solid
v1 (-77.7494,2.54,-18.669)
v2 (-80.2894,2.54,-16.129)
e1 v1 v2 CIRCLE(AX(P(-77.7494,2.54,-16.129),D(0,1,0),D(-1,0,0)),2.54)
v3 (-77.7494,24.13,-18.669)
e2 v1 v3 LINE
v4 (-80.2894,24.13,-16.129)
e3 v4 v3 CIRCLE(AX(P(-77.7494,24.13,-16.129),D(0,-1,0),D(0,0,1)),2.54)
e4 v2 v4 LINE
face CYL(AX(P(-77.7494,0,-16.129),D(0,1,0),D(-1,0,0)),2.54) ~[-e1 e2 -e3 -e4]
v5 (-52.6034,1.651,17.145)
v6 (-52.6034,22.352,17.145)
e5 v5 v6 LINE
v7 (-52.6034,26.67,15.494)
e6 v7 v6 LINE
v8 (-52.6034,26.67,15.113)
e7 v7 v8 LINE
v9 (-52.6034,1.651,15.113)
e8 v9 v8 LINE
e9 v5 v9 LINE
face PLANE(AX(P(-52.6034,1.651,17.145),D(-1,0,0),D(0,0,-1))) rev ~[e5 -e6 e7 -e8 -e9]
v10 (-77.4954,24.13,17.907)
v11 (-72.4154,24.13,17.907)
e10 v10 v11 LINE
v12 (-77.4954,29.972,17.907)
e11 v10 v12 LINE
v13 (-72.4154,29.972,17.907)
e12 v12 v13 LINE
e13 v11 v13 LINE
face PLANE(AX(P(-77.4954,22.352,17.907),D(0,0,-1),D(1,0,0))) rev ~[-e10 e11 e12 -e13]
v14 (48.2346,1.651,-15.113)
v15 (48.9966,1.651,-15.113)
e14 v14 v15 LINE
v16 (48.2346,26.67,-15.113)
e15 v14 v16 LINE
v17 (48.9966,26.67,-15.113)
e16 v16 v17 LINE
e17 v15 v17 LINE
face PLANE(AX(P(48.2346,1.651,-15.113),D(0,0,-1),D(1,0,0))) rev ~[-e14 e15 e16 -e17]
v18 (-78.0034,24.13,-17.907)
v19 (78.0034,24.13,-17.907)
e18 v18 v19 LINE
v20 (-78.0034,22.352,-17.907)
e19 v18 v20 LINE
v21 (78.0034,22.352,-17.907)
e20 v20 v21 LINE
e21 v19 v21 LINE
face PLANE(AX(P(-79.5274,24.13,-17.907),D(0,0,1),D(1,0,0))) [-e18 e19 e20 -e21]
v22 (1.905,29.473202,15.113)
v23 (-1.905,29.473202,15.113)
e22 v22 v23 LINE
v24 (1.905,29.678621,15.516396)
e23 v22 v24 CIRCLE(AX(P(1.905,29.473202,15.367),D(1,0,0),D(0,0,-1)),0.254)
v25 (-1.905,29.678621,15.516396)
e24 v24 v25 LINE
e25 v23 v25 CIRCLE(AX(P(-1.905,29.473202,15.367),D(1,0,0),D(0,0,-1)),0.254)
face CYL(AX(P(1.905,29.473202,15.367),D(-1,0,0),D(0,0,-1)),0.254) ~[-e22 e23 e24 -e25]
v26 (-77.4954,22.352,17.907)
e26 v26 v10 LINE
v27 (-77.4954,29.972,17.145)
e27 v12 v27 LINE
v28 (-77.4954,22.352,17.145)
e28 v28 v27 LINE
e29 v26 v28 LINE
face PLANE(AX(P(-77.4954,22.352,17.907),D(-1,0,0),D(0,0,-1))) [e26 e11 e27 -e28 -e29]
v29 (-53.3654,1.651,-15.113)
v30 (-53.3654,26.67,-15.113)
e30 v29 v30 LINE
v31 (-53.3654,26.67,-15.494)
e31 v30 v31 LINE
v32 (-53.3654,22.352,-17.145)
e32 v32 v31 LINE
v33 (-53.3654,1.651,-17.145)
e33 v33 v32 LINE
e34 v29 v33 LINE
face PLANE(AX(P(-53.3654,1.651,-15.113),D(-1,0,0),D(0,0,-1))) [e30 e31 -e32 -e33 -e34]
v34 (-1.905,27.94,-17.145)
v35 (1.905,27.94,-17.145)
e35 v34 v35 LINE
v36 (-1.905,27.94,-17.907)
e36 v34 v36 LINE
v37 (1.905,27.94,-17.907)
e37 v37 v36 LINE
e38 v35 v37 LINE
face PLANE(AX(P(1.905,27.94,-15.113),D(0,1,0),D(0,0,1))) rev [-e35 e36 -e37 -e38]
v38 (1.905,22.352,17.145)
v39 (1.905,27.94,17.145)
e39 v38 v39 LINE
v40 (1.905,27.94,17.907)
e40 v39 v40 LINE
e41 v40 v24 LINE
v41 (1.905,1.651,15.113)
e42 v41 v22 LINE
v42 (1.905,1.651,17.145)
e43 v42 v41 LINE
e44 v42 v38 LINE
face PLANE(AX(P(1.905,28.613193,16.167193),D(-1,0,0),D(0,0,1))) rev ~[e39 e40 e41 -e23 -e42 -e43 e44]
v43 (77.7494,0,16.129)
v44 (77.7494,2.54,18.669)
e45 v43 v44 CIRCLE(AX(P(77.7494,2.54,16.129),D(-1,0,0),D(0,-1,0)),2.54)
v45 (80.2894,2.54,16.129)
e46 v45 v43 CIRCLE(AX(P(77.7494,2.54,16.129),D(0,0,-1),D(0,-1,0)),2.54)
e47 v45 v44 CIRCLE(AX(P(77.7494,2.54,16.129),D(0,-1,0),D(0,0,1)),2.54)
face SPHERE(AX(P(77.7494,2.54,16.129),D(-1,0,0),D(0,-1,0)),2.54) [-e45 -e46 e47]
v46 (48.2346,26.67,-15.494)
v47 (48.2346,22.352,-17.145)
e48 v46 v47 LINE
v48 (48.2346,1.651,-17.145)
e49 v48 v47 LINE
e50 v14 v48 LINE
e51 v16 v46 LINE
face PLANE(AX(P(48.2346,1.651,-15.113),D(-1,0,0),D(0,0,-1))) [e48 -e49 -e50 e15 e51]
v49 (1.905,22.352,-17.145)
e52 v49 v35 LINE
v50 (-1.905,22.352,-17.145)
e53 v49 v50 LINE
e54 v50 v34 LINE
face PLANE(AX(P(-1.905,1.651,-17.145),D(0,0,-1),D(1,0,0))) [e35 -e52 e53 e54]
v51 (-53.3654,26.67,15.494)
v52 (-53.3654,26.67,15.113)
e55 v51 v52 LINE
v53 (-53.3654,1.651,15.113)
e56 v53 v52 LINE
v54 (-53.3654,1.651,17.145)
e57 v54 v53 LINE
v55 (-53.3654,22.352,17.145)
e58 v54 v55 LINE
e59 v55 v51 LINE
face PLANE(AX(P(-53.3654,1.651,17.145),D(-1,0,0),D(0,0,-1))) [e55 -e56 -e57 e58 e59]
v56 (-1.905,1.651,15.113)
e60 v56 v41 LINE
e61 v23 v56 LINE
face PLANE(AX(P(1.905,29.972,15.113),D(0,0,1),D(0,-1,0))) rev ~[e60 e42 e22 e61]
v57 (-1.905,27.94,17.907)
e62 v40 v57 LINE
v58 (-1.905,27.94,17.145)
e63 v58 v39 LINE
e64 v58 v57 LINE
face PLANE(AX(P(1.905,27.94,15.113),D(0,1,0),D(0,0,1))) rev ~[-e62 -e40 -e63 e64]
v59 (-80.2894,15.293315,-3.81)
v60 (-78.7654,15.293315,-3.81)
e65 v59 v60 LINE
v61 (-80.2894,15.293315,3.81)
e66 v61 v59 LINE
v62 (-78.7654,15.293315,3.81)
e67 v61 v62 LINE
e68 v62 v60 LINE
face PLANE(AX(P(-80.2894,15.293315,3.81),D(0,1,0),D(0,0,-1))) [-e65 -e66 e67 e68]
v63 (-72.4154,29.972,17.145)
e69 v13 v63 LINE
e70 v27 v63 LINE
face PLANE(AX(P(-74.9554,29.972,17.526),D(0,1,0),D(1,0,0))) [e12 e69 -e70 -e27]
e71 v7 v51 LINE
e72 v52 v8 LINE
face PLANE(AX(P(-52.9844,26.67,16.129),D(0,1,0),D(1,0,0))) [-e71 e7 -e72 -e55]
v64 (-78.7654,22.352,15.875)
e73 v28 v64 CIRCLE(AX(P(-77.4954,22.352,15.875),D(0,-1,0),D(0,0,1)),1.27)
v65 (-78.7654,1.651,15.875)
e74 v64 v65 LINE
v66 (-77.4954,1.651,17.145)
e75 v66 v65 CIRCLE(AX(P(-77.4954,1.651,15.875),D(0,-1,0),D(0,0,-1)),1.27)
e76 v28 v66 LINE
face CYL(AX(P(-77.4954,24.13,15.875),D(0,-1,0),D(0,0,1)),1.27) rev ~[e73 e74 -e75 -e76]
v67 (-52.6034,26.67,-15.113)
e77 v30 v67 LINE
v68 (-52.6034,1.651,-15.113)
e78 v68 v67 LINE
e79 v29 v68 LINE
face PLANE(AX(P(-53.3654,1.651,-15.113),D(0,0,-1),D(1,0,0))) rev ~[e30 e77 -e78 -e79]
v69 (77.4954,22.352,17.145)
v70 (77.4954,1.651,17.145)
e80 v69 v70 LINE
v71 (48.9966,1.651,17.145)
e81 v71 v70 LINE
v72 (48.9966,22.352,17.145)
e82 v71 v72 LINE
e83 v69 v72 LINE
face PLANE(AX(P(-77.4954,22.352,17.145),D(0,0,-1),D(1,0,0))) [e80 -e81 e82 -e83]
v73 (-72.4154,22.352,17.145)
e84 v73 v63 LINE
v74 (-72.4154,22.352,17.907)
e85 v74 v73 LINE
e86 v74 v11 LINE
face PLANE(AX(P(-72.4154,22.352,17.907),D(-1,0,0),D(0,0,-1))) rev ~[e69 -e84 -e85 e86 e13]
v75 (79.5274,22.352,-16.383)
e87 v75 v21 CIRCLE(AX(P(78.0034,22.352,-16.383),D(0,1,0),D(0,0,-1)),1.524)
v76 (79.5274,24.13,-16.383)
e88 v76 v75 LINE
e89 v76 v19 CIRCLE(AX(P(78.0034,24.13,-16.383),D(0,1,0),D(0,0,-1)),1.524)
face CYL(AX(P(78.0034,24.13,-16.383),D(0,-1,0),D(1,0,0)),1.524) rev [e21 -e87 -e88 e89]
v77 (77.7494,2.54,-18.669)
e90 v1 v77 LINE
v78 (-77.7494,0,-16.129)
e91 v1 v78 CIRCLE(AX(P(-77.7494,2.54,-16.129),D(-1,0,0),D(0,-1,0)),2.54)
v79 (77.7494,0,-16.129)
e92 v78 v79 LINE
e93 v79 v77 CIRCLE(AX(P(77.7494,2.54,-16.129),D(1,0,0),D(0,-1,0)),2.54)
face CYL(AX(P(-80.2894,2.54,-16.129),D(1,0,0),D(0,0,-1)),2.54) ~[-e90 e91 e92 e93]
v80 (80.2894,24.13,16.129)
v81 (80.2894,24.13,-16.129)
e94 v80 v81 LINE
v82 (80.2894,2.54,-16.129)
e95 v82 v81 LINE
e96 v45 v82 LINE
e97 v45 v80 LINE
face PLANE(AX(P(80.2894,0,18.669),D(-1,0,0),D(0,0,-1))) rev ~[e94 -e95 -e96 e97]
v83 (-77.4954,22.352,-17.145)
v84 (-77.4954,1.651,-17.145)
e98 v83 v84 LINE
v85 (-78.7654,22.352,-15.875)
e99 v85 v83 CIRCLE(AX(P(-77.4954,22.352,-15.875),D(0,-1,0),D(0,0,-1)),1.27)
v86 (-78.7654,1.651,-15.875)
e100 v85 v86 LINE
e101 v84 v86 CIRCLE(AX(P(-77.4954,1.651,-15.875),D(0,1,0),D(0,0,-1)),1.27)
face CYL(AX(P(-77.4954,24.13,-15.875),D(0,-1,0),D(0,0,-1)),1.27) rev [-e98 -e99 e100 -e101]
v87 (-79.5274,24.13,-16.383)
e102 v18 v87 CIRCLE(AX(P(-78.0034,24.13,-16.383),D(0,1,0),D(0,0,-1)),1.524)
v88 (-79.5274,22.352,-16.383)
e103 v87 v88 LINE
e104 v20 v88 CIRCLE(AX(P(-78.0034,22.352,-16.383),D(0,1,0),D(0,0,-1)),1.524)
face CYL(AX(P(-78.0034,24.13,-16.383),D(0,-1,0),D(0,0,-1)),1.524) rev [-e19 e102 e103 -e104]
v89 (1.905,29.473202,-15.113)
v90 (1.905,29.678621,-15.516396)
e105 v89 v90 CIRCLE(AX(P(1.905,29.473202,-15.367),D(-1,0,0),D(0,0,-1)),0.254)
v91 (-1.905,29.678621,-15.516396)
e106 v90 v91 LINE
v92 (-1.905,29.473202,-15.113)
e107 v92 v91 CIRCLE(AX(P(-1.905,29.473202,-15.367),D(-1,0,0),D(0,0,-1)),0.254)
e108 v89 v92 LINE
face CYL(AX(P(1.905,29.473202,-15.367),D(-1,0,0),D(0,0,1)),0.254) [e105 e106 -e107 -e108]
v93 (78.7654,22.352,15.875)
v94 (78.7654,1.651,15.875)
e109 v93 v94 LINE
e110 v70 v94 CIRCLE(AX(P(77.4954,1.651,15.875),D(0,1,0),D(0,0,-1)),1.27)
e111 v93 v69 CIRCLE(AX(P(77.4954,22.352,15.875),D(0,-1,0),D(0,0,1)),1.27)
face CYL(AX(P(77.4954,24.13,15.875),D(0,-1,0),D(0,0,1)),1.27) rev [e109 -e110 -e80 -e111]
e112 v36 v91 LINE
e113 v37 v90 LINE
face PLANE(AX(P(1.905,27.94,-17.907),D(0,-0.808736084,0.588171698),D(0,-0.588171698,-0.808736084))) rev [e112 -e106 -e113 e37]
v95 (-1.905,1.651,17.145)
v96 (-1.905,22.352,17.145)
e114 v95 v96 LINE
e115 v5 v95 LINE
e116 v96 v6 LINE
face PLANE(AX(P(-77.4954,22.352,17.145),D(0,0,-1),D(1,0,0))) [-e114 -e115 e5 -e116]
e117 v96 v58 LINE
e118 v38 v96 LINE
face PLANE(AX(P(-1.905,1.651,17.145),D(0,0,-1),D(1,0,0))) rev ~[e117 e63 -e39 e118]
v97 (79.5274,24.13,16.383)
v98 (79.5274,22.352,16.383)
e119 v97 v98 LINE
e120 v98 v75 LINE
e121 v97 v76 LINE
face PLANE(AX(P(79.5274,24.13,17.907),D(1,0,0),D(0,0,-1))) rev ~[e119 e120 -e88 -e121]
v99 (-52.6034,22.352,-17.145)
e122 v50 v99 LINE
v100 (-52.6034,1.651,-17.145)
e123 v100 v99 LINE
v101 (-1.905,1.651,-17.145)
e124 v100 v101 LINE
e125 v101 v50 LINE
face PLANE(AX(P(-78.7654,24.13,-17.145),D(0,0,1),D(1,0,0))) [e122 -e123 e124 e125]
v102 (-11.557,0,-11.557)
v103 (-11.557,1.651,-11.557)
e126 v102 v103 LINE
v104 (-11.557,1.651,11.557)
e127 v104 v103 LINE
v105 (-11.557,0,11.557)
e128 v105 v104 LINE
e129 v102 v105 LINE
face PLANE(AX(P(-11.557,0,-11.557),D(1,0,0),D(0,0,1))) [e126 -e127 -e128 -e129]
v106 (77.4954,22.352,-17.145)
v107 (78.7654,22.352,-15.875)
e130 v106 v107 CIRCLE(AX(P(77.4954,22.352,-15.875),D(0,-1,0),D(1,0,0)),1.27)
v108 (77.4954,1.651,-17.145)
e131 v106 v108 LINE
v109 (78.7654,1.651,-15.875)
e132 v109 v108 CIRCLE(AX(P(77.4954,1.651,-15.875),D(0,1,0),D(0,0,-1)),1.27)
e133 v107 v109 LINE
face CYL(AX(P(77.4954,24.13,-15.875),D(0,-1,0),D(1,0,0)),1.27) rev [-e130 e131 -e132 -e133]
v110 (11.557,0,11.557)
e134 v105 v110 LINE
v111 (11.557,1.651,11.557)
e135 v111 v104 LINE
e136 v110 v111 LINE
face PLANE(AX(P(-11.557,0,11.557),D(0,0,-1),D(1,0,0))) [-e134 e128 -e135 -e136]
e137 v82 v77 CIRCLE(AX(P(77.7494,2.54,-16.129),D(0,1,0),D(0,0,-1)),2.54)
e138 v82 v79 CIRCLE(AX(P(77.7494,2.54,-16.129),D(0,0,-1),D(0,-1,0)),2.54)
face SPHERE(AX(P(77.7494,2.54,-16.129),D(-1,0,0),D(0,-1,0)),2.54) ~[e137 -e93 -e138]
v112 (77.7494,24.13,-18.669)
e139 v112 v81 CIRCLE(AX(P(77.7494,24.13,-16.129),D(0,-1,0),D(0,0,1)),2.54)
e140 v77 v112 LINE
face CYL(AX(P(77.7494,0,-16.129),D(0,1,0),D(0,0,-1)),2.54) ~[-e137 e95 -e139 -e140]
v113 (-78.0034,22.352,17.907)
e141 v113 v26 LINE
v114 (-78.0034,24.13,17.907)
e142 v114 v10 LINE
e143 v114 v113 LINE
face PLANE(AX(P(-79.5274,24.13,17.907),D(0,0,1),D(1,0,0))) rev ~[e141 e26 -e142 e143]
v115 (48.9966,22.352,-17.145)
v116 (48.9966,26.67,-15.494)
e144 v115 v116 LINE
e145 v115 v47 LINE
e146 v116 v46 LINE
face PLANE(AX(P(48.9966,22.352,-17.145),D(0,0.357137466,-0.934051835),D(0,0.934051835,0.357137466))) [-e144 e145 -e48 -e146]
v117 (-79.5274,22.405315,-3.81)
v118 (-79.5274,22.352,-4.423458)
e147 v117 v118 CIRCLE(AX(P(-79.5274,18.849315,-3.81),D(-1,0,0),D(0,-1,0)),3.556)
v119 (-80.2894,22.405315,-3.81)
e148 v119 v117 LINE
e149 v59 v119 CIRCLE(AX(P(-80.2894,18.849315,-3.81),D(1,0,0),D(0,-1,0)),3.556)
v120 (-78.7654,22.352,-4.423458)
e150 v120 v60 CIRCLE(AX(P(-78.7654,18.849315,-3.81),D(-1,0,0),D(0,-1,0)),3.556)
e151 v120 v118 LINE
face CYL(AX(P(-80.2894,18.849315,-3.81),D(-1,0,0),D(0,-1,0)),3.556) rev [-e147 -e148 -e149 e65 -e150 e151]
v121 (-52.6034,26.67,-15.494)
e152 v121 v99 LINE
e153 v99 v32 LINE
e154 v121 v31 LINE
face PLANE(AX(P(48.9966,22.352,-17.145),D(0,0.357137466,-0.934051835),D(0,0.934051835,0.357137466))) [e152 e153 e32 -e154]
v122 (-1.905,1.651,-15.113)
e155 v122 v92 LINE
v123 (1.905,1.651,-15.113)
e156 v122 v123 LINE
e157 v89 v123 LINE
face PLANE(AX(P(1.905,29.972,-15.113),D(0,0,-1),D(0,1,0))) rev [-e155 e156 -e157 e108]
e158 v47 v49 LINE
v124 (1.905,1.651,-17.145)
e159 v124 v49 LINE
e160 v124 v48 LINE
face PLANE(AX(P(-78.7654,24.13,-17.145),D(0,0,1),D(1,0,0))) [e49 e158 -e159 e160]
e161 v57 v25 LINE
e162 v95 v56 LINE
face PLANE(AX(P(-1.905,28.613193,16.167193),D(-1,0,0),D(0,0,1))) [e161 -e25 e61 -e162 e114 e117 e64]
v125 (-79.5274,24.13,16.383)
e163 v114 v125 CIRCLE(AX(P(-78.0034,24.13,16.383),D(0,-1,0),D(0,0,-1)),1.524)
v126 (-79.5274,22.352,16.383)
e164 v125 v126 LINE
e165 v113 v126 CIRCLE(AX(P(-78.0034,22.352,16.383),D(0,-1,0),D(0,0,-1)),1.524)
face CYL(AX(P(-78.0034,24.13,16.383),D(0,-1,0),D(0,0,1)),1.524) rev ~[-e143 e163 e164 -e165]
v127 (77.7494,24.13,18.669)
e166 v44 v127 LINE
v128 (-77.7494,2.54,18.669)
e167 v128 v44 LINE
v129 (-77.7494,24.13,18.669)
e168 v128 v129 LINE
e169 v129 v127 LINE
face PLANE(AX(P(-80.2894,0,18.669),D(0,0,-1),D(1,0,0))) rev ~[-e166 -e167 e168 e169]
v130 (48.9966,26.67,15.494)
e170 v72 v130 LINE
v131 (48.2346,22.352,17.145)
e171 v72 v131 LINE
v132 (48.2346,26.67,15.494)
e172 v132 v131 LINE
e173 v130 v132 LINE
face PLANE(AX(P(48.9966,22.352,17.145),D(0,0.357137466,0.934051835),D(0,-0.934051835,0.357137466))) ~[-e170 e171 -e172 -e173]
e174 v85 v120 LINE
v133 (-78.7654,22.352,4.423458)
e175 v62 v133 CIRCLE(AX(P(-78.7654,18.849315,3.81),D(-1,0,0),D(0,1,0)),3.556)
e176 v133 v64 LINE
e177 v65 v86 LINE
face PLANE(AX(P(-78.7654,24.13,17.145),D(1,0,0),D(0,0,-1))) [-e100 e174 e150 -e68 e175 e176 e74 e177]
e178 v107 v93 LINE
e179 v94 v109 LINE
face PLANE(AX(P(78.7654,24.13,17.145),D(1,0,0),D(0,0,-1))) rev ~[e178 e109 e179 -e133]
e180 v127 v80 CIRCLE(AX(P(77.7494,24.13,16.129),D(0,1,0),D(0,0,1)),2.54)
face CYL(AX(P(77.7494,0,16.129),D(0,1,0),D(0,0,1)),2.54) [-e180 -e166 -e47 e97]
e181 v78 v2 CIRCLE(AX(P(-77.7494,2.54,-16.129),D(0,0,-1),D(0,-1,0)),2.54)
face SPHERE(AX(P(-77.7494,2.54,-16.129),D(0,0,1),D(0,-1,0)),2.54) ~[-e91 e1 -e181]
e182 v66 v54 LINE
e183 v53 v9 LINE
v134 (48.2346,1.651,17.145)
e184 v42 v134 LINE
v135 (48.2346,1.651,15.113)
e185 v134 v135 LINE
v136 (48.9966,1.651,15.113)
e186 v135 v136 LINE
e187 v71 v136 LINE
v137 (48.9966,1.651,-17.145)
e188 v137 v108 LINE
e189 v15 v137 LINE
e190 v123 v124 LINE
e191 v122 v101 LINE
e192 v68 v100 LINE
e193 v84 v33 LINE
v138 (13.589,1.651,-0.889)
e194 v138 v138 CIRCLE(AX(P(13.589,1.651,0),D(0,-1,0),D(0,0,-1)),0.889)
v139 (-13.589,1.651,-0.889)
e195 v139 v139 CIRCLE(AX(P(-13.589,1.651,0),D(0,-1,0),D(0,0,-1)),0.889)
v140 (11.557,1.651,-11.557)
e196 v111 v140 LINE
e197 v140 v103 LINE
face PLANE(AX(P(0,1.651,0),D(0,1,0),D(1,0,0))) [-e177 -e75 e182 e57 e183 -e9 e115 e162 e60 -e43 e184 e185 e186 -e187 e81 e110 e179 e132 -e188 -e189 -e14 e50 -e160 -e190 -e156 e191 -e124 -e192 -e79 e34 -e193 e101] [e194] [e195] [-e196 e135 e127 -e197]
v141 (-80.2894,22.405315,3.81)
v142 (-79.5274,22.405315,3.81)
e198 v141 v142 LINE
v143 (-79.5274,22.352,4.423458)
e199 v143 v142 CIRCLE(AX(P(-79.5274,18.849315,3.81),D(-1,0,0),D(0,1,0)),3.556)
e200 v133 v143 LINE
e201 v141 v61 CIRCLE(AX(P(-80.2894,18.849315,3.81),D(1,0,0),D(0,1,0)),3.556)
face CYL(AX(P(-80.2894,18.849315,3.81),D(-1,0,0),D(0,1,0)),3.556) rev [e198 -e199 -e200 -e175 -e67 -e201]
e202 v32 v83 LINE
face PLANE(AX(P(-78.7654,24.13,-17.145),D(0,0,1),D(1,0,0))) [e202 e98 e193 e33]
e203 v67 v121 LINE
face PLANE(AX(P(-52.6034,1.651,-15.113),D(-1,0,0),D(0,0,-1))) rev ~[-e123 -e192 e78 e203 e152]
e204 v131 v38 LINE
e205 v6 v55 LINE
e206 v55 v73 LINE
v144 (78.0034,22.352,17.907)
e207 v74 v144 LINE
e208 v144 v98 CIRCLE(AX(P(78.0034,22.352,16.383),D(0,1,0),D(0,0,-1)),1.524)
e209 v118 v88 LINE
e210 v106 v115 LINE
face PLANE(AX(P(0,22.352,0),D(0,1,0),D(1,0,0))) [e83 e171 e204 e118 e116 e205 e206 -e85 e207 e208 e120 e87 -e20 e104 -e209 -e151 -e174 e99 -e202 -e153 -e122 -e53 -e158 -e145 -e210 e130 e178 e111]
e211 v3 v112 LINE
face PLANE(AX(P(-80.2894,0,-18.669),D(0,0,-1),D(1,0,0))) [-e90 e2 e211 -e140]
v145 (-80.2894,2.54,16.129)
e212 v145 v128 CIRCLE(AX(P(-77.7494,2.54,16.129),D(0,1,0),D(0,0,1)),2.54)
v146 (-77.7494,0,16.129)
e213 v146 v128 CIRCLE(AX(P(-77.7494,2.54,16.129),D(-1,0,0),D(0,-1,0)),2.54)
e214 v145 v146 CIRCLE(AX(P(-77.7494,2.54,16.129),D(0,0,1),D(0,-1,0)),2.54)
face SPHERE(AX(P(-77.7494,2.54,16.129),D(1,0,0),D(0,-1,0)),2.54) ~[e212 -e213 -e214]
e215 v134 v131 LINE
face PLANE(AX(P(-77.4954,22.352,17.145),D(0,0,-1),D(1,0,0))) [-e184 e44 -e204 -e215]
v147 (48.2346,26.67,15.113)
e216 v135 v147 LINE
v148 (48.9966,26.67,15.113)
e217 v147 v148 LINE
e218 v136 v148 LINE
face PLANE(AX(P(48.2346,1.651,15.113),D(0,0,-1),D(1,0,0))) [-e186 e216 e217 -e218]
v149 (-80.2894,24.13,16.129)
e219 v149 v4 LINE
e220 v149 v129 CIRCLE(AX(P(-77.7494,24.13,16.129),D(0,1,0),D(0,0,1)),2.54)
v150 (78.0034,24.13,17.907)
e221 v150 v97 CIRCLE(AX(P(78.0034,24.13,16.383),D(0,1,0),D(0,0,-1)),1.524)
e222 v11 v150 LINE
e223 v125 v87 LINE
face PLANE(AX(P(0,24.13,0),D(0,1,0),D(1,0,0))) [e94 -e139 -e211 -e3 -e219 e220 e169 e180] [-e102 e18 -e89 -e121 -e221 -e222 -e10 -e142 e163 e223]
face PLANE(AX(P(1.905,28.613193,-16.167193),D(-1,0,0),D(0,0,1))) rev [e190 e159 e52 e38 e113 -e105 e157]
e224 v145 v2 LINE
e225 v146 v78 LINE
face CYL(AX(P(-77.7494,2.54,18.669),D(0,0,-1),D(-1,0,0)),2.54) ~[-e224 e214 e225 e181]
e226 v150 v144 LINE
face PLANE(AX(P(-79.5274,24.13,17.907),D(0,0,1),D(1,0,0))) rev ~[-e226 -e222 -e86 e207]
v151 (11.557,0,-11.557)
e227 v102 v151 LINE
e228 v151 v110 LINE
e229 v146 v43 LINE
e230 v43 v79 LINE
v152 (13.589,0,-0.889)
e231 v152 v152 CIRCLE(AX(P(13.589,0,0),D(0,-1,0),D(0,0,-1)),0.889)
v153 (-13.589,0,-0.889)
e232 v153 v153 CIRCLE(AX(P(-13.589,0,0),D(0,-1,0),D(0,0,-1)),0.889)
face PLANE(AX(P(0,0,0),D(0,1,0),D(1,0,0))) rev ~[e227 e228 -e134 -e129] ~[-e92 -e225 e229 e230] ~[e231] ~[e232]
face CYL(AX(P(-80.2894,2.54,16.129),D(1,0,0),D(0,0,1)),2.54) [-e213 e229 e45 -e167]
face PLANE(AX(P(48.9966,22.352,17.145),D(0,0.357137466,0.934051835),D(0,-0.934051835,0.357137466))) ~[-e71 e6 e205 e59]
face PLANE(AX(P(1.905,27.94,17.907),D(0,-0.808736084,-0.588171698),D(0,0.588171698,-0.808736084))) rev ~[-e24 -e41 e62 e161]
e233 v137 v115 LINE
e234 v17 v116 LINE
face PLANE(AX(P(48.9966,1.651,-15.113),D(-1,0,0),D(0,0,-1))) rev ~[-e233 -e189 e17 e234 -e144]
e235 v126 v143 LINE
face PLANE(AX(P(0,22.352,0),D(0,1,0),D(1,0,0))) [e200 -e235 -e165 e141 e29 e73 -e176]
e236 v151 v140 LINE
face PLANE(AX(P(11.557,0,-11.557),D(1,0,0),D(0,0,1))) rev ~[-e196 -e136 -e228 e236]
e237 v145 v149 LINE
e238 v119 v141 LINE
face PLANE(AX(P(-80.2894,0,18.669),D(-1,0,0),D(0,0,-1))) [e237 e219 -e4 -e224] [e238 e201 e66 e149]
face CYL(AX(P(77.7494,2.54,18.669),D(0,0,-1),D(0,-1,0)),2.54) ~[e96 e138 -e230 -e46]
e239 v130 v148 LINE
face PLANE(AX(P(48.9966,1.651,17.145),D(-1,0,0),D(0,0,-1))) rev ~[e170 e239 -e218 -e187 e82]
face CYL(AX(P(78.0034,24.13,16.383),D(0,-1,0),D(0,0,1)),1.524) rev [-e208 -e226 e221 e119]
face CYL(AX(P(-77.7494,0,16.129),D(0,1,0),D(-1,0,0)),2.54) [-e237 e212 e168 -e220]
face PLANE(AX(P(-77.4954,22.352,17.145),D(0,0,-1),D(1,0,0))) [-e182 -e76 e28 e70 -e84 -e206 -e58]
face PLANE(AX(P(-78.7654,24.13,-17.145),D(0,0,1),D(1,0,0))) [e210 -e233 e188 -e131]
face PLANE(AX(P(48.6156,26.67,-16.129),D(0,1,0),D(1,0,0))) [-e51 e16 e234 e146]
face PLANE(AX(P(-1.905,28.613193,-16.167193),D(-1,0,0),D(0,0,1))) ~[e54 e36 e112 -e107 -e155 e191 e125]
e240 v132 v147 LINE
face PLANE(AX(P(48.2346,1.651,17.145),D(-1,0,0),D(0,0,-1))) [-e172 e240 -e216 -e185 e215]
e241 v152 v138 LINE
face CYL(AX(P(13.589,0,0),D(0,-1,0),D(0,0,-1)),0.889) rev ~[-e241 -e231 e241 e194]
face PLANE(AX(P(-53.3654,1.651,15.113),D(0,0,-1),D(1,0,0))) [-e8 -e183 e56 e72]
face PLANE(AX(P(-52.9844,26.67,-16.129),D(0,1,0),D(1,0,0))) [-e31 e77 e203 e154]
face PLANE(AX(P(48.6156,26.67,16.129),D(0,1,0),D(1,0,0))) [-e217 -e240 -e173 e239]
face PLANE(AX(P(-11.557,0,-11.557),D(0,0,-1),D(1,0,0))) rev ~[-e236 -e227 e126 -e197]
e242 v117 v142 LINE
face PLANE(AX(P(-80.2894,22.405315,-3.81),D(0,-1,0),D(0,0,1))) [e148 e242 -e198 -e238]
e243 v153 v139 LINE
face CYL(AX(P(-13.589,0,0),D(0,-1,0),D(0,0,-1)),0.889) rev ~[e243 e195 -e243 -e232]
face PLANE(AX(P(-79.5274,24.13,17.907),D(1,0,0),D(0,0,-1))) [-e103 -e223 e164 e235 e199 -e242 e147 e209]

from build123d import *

# Parameters (mm, degrees)
SKETCH1_W            = 160.5788
SKETCH1_H            = 37.338
BOSS_EXTRUDE1_DEPTH  = 24.13
SKETCH2_W            = 157.5308
SKETCH2_H            = 34.29
CUT_EXTRUDE3_DEPTH   = 22.479
FILLET1_R            = 2.54
FILLET2_R            = 1.27
CUT_EXTRUDE4_REACH   = 165.451
SKETCH4_W            = 159.0548
SKETCH4_H            = 35.814
CUT_EXTRUDE5_DEPTH   = 1.778
FILLET3_R            = 1.524
SKETCH5_W            = 5.08
SKETCH5_H            = 0.762
BOSS_EXTRUDE2_DEPTH  = 7.62
SKETCH6_W            = 0.762
SKETCH6_H            = 2.032
BOSS_EXTRUDE3_DEPTH  = 25.019
LPATTERN1_COUNT      = 2
LPATTERN1_PITCH      = 101.6
LPATTERN1_COUNT_DIR2 = 2
LPATTERN1_PITCH_DIR2 = 32.258
CUT_EXTRUDE6_REACH   = 136.021
SKETCH8_W            = 3.81
SKETCH8_H            = 2.032
BOSS_EXTRUDE4_DEPTH  = 26.289
BOSS_EXTRUDE9_DEPTH  = 3.81
FILLET4_R            = 0.254
FILLET4_OF_MIRROR2_R = 0.254
SKETCH10_R           = 0.889
SKETCH10_W           = 23.114
SKETCH10_H           = 23.114
CUT_EXTRUDE7_DEPTH   = 88.711117296


with BuildPart() as part:
    # Sketch1 → Boss-Extrude1 (new body)
    with BuildSketch(Plane(origin=(0, 0, 0), x_dir=(1, 0, 0), z_dir=(0, 1, 0))):
        Rectangle(SKETCH1_W, SKETCH1_H)
    extrude(amount=BOSS_EXTRUDE1_DEPTH)

    # Sketch2 → Cut-Extrude3 (cut)
    with BuildSketch(Plane(origin=(0, 24.13, 0), x_dir=(1, 0, 0), z_dir=(0, 1, 0))):
        Rectangle(SKETCH2_W, SKETCH2_H)
    extrude(amount=-CUT_EXTRUDE3_DEPTH, mode=Mode.SUBTRACT)

    # Fillet1
    fillet1_edges = [part.edges().sort_by_distance(p)[0] for p in [
        (0, 0, 18.669),
        (-80.2894, 0, 0),
        (0, 0, -18.669),
        (80.2894, 0, 0),
        (80.2894, 12.065, 18.669),
        (-80.2894, 12.065, 18.669),
        (-80.2894, 12.065, -18.669),
        (80.2894, 12.065, -18.669),
    ]]
    fillet(fillet1_edges, radius=FILLET1_R)

    # Fillet2
    fillet2_edges = [part.edges().sort_by_distance(p)[0] for p in [
        (-78.7654, 12.8905, -17.145),
        (-78.7654, 12.8905, 17.145),
        (78.7654, 12.8905, 17.145),
        (78.7654, 12.8905, -17.145),
    ]]
    fillet(fillet2_edges, radius=FILLET2_R)

    # Sketch3 → Cut-Extrude4 (cut, up to next)
    with BuildSketch(Plane.ZY.offset(80.2894), mode=Mode.PRIVATE) as cut_extrude4_sk1:
        with BuildLine():
            Line((3.81, 15.2933146), (-3.81, 15.2933146))
            ThreePointArc((-3.81, 15.2933146), (-7.366, 18.8493146), (-3.81, 22.4053146))
            Line((-3.81, 22.4053146), (3.81, 22.4053146))
            ThreePointArc((3.81, 22.4053146), (7.366, 18.8493146), (3.81, 15.2933146))
        make_face()
    cut_extrude4_tool1 = extrude(cut_extrude4_sk1.sketch, amount=-CUT_EXTRUDE4_REACH, mode=Mode.PRIVATE) & part.part
    add(cut_extrude4_tool1.solids().sort_by_distance((-80.2894, 18.849315, 0))[0], mode=Mode.SUBTRACT)

    # Sketch4 → Cut-Extrude5 (cut)
    with BuildSketch(Plane(origin=(0, 24.13, 0), x_dir=(1, 0, 0), z_dir=(0, 1, 0))):
        Rectangle(SKETCH4_W, SKETCH4_H)
    extrude(amount=-CUT_EXTRUDE5_DEPTH, mode=Mode.SUBTRACT)

    # Fillet3
    fillet3_edges = [part.edges().sort_by_distance(p)[0] for p in [
        (-79.5274, 23.241, 17.907),
        (-79.5274, 23.241, -17.907),
        (79.5274, 23.241, -17.907),
        (79.5274, 23.241, 17.907),
    ]]
    fillet(fillet3_edges, radius=FILLET3_R)

    # Sketch5 → Boss-Extrude2 (add)
    with BuildSketch(Plane(origin=(0, 22.352, 0), x_dir=(1, 0, 0), z_dir=(0, 1, 0))):
        with Locations((-74.9554, -17.526)):
            Rectangle(SKETCH5_W, SKETCH5_H)
    extrude(amount=BOSS_EXTRUDE2_DEPTH)

    # Sketch6 → Boss-Extrude3 (add)
    with BuildSketch(Plane(origin=(0, 1.651, 0), x_dir=(1, 0, 0), z_dir=(0, 1, 0))):
        with Locations((-52.9844, 16.129)):
            Rectangle(SKETCH6_W, SKETCH6_H)
    boss_extrude3 = extrude(amount=BOSS_EXTRUDE3_DEPTH)

    # LPattern1: Boss-Extrude3 2 × 2
    with Locations(*[(i * LPATTERN1_PITCH, 0, j * LPATTERN1_PITCH_DIR2) for i in range(LPATTERN1_COUNT) for j in range(LPATTERN1_COUNT_DIR2) if (i, j) != (0, 0)]):
        add(boss_extrude3)

    # Cut-Extrude6: up to this face of the body (flat: up to its plane)
    cut_extrude6_end = Plane(part.part.faces().sort_by_distance((-53.3654, 14.1605, -16.129))[0])
    # Sketch7 → Cut-Extrude6 (cut, up to the picked face)
    with BuildSketch(Plane(origin=(48.9966, 0, 0), x_dir=(0, 0, -1), z_dir=(1, 0, 0)), mode=Mode.PRIVATE) as cut_extrude6_sk1:
        Polygon((17.145, 22.352), (15.494, 26.67), (17.145, 26.67), align=None)
    cut_extrude6_tool1 = split(extrude(cut_extrude6_sk1.sketch, amount=-CUT_EXTRUDE6_REACH, mode=Mode.PRIVATE), bisect_by=cut_extrude6_end, keep=Keep.BOTH, mode=Mode.PRIVATE)
    cut_extrude6 = cut_extrude6_tool1.solids().sort_by(Axis((48.9966, 25.230667, -16.594667), (-1, 0, 0)))[0]
    add(cut_extrude6, mode=Mode.SUBTRACT)

    # Mirror1: Cut-Extrude6 across plane
    add(cut_extrude6.mirror(Plane.XY), mode=Mode.SUBTRACT)

    # Sketch8 → Boss-Extrude4 (add)
    with BuildSketch(Plane(origin=(0, 1.651, 0), x_dir=(1, 0, 0), z_dir=(0, 1, 0))):
        with Locations((0, -16.129)):
            Rectangle(SKETCH8_W, SKETCH8_H)
        with Locations((0, 16.129)):
            Rectangle(SKETCH8_W, SKETCH8_H)
    extrude(amount=BOSS_EXTRUDE4_DEPTH)

    # Sketch9 → Boss-Extrude9 (add)
    with BuildSketch(Plane(origin=(1.905, 0, 0), x_dir=(0, 0, -1), z_dir=(1, 0, 0))):
        Polygon((-15.113, 27.94), (-17.907, 27.94), (-15.113, 29.972), align=None)
    boss_extrude9 = extrude(amount=-BOSS_EXTRUDE9_DEPTH)

    # Fillet4
    fillet4_edges = [part.edges().sort_by_distance(p)[0] for p in [
        (0, 29.972, 15.113),
    ]]
    fillet(fillet4_edges, radius=FILLET4_R)

    # Mirror2: Boss-Extrude9 across plane
    add(boss_extrude9.mirror(Plane.XY))

    # Fillet4 of Mirror2
    fillet4_of_mirror2_edges = [part.edges().sort_by_distance(p)[0] for p in [
        (0, 29.972, -15.113),
    ]]
    fillet(fillet4_of_mirror2_edges, radius=FILLET4_OF_MIRROR2_R)

    # Sketch10 → Cut-Extrude7 (cut, through all)
    with BuildSketch(Plane.XZ):
        with Locations(Location((-13.589, 0, 0), (0, 0, 270))):
            Circle(SKETCH10_R)
        with Locations(Location((13.589, 0, 0), (0, 0, 270))):
            Circle(SKETCH10_R)
        Rectangle(SKETCH10_W, SKETCH10_H)
    extrude(amount=-CUT_EXTRUDE7_DEPTH, mode=Mode.SUBTRACT)


solid = part.part
